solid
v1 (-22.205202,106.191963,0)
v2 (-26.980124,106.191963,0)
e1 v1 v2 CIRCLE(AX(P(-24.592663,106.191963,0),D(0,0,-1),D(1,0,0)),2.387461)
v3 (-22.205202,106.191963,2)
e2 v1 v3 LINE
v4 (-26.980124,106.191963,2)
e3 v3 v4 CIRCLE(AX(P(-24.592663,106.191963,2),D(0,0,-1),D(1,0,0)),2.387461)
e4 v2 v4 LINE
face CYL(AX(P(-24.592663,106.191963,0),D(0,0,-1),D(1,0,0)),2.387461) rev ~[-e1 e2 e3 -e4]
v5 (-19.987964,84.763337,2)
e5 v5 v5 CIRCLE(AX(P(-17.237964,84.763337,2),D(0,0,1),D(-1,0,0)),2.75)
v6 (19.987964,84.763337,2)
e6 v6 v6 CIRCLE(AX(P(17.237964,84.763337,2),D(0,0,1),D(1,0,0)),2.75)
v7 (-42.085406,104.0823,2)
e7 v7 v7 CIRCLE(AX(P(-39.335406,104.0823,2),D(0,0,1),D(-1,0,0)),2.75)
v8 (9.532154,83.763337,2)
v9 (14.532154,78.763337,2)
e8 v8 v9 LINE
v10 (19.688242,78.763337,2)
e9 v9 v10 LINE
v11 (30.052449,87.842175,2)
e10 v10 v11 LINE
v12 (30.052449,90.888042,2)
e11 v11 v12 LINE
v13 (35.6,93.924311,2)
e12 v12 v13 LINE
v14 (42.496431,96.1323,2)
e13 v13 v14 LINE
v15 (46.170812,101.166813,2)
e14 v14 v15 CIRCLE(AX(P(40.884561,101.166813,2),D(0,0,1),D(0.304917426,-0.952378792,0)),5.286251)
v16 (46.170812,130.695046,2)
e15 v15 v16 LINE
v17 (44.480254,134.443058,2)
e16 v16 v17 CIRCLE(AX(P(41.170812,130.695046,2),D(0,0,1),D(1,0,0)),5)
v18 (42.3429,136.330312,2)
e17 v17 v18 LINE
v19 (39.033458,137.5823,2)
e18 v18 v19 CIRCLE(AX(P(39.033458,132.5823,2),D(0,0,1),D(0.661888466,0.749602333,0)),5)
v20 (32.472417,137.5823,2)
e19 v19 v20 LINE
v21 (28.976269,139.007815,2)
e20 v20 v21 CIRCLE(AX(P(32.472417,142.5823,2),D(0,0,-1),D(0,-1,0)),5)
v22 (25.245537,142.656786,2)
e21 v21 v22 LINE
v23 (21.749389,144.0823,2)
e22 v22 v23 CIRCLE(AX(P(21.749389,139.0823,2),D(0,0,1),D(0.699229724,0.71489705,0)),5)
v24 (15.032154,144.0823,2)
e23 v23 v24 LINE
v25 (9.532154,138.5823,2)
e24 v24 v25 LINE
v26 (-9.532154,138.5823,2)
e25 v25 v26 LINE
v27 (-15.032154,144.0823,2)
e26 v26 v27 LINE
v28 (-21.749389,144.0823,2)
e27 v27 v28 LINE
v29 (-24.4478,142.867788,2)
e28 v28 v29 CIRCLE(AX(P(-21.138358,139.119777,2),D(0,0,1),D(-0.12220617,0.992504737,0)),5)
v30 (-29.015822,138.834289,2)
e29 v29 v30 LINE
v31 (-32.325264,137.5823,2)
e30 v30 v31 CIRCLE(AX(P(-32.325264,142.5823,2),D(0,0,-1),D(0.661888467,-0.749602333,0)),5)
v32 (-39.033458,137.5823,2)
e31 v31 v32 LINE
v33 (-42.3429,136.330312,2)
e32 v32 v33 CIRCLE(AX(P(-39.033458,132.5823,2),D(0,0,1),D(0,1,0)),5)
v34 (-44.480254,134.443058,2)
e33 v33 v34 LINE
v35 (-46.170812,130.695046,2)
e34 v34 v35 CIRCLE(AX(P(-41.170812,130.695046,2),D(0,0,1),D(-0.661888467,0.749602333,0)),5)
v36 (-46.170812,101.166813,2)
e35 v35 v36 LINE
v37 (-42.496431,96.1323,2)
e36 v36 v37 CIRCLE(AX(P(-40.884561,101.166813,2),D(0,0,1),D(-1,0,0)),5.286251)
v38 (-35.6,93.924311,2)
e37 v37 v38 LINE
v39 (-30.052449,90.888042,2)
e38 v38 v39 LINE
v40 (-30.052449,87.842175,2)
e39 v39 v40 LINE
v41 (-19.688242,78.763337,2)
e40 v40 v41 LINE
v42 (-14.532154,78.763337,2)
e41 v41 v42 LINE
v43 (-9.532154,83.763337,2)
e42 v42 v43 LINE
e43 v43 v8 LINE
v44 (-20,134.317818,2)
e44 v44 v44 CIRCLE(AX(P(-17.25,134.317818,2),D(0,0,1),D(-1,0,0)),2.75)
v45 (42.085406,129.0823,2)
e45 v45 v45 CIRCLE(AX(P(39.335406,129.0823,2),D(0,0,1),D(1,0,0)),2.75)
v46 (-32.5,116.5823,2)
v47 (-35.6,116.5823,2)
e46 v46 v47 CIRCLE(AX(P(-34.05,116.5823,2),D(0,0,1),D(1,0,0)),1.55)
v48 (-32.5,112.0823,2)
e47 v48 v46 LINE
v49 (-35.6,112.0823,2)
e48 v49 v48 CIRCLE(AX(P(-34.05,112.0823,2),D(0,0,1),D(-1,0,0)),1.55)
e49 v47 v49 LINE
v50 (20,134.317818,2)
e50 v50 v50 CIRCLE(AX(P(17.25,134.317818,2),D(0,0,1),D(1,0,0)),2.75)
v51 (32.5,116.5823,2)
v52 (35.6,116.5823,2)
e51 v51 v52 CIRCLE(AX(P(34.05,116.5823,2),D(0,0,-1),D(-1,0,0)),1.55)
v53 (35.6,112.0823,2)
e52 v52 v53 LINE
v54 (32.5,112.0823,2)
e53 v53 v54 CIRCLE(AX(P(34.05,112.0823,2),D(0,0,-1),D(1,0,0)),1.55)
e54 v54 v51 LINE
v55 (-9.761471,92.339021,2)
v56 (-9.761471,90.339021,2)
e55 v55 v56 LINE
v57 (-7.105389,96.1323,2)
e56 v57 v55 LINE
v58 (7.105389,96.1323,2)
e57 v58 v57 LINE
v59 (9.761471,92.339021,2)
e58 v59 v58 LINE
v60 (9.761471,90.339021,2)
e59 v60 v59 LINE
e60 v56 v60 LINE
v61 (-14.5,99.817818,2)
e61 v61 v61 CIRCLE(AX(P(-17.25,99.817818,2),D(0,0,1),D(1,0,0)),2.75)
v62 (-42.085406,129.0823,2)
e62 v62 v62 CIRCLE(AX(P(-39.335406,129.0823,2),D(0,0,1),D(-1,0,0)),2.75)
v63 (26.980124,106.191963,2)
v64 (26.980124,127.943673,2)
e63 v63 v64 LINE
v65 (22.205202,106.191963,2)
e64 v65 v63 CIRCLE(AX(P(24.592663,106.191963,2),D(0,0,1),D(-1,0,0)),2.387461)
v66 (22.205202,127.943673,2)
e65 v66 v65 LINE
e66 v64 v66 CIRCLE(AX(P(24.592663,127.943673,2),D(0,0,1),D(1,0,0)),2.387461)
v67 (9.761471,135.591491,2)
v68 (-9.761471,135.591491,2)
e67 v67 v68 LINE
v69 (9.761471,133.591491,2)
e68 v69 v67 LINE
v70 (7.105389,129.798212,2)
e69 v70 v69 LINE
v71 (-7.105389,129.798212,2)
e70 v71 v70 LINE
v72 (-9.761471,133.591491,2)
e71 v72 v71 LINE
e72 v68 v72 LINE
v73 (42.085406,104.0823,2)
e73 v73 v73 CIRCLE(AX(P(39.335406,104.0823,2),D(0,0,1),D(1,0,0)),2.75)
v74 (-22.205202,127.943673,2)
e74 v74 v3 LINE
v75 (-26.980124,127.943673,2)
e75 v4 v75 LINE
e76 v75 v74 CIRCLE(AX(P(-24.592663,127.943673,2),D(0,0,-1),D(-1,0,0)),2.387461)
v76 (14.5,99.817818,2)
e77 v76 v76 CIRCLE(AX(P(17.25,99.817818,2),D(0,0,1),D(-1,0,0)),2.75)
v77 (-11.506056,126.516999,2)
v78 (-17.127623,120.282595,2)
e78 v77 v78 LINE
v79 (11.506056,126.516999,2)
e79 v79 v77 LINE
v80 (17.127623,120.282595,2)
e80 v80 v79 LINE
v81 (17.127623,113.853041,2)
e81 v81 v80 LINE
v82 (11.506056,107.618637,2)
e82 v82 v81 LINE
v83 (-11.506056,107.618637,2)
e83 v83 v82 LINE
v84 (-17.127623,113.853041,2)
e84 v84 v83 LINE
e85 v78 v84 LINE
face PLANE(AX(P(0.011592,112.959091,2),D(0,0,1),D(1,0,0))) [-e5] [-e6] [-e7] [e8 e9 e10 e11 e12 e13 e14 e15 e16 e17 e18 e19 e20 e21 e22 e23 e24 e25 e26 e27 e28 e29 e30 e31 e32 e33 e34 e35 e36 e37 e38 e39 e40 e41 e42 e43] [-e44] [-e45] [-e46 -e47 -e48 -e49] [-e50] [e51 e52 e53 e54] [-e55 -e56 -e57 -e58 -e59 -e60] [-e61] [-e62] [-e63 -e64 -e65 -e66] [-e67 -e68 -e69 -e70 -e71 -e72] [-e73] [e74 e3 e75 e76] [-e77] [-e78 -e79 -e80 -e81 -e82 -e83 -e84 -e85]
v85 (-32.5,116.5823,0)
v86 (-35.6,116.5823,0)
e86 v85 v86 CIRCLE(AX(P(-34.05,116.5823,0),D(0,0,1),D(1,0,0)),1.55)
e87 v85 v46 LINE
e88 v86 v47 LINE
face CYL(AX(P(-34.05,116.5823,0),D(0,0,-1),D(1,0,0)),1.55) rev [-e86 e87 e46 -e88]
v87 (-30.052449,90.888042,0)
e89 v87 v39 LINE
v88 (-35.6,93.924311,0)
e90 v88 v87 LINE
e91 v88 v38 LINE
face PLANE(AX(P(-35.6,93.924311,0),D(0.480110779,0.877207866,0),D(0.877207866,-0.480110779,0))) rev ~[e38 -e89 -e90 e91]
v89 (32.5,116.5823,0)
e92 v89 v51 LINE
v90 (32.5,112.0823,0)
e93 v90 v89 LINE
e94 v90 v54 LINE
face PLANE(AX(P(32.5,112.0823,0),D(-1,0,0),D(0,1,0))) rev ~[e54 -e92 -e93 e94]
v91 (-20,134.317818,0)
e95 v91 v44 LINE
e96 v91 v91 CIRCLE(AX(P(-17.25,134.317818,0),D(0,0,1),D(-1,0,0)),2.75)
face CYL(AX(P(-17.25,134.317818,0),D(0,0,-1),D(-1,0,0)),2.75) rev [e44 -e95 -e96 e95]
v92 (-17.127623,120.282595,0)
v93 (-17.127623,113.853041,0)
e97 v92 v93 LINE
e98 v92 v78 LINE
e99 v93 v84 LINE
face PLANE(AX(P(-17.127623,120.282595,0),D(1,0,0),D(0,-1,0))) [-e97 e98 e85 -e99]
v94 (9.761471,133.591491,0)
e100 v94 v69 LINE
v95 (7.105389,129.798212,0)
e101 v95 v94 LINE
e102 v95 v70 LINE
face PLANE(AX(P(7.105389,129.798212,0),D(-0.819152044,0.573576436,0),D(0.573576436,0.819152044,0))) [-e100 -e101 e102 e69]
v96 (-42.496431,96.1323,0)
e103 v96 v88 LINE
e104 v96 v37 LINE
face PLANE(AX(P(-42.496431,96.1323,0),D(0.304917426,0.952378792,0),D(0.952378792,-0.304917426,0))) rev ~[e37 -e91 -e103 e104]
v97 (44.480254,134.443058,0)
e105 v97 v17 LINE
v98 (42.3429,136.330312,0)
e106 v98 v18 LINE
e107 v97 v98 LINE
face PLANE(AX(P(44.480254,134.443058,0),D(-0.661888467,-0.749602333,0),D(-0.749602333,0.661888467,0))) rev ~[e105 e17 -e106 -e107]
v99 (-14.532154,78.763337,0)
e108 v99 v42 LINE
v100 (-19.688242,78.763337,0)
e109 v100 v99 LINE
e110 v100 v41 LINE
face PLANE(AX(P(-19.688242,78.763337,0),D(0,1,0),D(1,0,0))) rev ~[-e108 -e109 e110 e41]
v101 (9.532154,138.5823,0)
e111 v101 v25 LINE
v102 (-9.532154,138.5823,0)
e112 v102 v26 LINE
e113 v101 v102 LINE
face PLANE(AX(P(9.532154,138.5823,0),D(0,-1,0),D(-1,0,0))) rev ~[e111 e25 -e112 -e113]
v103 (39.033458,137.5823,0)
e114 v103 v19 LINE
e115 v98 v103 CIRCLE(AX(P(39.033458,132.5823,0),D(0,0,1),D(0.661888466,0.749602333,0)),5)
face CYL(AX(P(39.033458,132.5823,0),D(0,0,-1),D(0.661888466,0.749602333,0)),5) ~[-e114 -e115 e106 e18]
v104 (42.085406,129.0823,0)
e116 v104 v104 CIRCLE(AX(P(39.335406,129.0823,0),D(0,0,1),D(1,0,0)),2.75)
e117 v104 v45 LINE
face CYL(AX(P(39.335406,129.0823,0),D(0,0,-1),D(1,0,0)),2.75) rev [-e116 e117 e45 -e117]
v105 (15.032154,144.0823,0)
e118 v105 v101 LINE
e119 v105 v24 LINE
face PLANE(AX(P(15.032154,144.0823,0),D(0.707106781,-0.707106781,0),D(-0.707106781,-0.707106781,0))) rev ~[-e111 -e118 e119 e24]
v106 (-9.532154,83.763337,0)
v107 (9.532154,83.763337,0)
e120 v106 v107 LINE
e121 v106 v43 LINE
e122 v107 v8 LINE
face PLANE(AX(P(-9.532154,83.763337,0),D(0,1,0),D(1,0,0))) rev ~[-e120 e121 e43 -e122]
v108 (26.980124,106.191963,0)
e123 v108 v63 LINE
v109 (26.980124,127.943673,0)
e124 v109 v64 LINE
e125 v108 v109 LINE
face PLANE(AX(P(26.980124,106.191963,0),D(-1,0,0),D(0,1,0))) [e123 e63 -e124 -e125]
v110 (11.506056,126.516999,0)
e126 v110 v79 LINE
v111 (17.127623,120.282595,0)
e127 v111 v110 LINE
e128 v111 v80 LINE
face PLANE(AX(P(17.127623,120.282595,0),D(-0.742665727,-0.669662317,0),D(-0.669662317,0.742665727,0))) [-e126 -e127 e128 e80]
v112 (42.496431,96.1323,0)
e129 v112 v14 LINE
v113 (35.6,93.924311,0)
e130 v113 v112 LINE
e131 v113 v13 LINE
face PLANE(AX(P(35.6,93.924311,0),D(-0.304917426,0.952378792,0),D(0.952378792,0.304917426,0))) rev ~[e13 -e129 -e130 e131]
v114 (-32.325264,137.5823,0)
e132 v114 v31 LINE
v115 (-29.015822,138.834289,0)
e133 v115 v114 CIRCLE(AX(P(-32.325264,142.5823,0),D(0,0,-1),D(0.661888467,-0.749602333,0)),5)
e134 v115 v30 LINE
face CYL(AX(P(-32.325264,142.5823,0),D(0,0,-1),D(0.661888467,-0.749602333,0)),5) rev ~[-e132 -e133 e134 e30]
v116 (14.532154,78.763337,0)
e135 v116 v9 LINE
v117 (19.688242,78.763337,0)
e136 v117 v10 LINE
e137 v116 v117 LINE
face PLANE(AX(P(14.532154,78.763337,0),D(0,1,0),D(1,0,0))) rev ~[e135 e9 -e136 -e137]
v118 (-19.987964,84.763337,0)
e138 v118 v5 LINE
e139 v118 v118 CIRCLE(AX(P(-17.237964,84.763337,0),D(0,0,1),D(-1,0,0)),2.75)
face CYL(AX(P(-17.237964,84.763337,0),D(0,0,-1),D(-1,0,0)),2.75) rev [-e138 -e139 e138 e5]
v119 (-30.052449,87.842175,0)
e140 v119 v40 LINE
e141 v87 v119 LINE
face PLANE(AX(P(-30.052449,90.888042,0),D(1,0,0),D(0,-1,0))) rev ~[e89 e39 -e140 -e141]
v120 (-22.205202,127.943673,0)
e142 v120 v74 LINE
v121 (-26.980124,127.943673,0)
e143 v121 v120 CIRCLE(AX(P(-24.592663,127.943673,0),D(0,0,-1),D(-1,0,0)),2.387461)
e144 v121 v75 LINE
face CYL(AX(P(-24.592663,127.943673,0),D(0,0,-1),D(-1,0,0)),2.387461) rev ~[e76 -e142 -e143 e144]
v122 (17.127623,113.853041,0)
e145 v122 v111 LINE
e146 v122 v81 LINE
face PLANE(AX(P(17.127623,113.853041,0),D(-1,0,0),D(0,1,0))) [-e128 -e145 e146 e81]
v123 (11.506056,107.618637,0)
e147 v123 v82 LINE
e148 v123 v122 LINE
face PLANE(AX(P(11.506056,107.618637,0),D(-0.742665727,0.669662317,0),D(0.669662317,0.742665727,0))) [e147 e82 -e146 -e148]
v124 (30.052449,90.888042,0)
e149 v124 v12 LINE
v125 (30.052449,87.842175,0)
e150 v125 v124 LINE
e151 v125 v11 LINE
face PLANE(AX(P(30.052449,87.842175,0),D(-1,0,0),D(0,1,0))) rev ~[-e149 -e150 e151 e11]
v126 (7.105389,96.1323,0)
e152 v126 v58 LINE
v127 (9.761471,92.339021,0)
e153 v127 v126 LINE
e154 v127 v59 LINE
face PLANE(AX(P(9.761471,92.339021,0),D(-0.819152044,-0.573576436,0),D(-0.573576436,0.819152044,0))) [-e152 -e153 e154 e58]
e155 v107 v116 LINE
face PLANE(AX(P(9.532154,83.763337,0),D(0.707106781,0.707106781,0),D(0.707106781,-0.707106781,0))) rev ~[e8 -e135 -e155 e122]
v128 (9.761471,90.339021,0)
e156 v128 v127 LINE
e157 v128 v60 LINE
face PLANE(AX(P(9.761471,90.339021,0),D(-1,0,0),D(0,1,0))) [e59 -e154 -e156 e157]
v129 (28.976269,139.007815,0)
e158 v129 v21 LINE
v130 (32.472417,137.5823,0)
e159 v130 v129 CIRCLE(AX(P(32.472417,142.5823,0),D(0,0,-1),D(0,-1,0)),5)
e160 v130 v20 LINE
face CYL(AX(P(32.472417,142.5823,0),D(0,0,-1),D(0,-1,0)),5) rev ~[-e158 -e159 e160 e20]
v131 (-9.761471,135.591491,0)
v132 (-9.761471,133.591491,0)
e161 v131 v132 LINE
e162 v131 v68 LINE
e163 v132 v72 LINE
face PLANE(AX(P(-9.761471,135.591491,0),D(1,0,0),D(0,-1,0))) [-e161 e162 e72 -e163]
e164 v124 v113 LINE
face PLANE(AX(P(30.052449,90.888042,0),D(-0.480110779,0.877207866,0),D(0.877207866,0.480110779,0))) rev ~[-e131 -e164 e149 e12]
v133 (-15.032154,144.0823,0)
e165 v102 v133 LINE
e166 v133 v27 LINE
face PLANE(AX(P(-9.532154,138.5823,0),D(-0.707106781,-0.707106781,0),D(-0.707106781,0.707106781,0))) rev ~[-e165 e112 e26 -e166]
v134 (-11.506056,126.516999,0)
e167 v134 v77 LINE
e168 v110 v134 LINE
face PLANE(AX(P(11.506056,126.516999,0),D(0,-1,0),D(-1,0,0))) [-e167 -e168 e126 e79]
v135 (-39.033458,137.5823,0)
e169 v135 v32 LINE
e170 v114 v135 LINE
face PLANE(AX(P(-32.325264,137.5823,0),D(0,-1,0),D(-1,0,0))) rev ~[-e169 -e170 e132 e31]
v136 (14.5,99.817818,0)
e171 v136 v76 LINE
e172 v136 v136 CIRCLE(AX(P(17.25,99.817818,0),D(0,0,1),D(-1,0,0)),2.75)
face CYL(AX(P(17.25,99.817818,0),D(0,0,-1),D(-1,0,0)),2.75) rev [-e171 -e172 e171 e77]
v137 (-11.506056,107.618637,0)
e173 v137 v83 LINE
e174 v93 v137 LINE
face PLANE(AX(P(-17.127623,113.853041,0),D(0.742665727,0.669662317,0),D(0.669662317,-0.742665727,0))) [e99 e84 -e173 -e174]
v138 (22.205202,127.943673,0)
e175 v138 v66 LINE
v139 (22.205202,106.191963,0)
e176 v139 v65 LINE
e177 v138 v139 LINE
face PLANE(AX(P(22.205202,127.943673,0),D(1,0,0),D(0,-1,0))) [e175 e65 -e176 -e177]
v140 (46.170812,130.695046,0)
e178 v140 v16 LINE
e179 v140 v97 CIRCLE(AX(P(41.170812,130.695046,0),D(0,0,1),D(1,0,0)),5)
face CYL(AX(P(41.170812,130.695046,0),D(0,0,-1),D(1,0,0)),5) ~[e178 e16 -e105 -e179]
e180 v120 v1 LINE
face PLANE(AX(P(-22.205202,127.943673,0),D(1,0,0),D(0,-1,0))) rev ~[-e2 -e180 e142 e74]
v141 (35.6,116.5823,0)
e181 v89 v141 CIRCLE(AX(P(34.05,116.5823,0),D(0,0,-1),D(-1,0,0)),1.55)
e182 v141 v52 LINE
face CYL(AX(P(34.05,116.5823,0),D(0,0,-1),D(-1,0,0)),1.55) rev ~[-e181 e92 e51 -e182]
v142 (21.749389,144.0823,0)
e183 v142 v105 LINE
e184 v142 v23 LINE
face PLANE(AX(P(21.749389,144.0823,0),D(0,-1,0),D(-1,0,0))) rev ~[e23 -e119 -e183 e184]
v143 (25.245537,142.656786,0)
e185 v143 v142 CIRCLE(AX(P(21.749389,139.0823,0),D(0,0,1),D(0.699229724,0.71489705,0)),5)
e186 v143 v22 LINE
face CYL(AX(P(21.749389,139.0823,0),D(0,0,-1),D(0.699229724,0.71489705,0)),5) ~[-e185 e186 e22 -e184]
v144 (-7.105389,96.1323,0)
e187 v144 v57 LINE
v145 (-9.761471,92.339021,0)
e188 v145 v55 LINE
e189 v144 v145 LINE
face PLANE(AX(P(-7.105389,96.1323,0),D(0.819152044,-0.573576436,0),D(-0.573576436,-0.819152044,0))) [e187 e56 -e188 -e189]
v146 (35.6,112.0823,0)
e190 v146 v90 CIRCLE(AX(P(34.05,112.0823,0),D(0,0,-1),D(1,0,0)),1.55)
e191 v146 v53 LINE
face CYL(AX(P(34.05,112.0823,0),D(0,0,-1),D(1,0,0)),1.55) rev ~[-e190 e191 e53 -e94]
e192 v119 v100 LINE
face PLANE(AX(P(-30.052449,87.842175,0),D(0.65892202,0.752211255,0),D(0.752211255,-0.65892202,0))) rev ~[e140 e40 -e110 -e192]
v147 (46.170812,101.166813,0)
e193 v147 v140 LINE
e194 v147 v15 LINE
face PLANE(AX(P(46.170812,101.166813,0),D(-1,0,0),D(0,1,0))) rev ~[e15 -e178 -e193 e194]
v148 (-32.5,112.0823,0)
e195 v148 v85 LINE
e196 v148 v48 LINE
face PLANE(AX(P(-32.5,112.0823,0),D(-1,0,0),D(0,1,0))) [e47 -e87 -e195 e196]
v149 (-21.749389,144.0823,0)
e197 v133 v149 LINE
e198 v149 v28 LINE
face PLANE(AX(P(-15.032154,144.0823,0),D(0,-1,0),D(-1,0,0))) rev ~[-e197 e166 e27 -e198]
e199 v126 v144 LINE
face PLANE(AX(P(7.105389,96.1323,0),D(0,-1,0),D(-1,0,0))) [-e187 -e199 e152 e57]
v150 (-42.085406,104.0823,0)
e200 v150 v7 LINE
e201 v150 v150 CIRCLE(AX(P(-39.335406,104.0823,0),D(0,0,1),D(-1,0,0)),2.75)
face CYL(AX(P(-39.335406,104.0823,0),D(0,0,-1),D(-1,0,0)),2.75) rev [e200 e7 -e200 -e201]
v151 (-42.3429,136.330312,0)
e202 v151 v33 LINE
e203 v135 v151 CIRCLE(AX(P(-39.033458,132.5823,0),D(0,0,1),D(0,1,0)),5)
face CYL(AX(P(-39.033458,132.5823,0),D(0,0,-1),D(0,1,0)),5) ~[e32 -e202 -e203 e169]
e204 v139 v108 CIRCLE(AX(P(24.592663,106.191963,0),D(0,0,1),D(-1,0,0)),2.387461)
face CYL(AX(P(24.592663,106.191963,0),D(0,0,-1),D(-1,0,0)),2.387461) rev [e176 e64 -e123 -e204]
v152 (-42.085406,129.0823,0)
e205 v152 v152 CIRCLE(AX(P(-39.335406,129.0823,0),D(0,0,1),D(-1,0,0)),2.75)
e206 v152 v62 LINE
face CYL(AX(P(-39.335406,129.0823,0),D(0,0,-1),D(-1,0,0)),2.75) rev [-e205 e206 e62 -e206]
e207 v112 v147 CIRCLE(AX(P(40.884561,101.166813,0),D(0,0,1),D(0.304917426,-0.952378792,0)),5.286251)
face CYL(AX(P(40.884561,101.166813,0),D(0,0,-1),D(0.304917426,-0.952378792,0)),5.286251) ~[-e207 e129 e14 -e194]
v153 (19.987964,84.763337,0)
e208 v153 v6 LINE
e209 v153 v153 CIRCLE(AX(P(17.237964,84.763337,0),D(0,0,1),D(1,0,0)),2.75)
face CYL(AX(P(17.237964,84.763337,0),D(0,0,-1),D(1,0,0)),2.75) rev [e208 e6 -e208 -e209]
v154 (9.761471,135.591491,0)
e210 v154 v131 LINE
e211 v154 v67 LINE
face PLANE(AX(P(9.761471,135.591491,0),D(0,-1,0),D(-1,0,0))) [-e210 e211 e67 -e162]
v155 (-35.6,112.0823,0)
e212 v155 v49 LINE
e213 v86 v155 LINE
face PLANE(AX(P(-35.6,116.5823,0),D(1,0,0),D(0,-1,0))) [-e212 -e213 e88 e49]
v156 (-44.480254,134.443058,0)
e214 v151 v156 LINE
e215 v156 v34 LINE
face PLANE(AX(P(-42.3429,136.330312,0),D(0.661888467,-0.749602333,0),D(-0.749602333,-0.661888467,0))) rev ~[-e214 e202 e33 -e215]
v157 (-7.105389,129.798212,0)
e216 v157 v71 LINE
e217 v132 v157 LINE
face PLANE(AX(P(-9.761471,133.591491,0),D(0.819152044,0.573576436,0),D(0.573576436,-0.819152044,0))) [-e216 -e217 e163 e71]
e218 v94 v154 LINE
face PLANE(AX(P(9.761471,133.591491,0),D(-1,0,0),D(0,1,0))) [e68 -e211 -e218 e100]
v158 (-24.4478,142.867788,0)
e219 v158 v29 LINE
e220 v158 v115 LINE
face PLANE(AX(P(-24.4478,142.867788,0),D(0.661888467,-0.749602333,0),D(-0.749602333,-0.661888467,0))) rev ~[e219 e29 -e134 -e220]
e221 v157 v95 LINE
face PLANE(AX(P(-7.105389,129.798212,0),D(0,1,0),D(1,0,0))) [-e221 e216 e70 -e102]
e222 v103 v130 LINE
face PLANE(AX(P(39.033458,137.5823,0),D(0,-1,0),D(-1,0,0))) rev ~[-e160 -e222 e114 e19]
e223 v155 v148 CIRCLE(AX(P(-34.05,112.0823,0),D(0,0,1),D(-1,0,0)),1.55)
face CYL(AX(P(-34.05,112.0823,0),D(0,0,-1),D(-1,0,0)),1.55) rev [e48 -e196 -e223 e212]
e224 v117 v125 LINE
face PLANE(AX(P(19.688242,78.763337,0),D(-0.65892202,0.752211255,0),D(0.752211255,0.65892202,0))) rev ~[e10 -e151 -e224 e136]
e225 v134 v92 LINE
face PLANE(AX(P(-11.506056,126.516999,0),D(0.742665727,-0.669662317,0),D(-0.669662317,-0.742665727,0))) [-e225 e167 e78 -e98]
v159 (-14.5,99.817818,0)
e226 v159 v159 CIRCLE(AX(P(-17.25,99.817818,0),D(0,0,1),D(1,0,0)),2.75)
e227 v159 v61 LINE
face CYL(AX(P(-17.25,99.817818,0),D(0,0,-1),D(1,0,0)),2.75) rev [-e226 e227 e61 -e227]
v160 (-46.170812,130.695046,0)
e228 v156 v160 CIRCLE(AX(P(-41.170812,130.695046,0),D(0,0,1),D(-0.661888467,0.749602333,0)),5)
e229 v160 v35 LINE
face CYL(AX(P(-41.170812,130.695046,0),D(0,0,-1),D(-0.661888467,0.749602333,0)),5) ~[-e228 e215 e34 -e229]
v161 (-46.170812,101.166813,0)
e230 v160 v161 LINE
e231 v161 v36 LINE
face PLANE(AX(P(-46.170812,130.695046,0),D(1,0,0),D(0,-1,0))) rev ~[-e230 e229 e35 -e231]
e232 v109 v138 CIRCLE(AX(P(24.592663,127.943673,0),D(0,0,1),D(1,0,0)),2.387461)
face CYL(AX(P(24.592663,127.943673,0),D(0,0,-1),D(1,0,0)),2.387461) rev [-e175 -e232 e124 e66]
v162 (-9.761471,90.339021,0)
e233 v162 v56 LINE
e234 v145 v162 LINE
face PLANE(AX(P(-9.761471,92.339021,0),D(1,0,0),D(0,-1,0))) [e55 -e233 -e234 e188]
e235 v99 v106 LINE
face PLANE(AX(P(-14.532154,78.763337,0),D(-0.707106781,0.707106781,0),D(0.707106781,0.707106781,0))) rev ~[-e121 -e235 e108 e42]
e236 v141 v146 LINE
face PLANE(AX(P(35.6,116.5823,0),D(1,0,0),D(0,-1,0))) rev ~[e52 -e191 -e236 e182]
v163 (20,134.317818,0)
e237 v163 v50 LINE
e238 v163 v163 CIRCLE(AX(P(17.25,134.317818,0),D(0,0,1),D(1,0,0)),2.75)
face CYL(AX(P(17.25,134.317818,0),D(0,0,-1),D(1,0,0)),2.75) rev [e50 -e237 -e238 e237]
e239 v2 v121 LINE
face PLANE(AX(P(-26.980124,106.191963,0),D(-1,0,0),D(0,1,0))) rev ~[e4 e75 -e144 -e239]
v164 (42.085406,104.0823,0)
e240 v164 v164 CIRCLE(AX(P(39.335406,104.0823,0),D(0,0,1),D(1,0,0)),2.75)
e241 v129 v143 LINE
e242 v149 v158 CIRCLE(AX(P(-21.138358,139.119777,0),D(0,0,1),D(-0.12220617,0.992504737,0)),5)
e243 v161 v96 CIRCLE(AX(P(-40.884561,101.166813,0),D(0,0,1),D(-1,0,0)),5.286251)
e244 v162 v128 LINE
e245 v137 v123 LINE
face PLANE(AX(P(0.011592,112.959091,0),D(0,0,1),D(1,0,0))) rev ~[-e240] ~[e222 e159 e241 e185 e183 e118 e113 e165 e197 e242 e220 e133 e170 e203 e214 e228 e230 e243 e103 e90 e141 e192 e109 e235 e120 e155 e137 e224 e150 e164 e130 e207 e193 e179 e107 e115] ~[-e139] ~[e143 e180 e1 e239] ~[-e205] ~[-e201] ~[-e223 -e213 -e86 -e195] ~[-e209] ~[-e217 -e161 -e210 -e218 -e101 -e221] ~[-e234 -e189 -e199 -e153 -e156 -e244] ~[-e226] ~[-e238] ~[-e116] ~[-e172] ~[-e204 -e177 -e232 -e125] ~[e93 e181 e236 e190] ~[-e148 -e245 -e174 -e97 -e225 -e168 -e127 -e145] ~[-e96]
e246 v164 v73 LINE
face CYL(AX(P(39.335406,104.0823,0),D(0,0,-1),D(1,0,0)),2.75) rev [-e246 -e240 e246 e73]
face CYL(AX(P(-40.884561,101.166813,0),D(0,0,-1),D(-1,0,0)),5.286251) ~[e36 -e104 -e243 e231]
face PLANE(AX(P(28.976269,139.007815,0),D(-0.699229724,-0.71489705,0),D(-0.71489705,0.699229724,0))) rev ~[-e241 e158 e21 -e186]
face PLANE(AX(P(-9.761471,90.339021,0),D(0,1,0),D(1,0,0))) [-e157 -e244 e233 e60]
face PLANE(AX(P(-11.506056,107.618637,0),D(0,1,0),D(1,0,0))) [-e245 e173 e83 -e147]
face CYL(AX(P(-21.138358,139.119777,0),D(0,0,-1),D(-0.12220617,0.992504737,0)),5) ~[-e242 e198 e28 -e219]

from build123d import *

# Parameters (mm, degrees)
SKETCH_1_R      = 2.75
EXTRUDE_1_DEPTH = 2


with BuildPart() as part:
    # 草图1 → 凸台-拉伸1 (new body)
    with BuildSketch(Plane.XY):
        with BuildLine():
            Line((-24.447800114, 142.867788384), (-29.015821613, 138.834288737))
            ThreePointArc((-29.015821613, 138.834288737), (-30.556091587, 137.905760103), (-32.325263946, 137.582300402))
            Line((-32.325263946, 137.582300402), (-39.033457742, 137.582300402))
            ThreePointArc((-39.033457742, 137.582300402), (-40.802630101, 137.2588407), (-42.342900075, 136.330312067))
            Line((-42.342900075, 136.330312067), (-44.480254451, 134.443057788))
            ThreePointArc((-44.480254451, 134.443057788), (-45.728619247, 132.750865708), (-46.170812117, 130.695046123))
            Line((-46.170812117, 130.695046123), (-46.170812117, 101.166813467))
            ThreePointArc((-46.170812117, 101.166813467), (-45.154526002, 98.050429516), (-42.496431366, 96.132300402))
            Line((-42.496431366, 96.132300402), (-35.6, 93.92431119))
            Line((-35.6, 93.92431119), (-30.05244945, 90.888042458))
            Line((-30.05244945, 90.888042458), (-30.05244945, 87.84217512))
            Line((-30.05244945, 87.84217512), (-19.688242157, 78.763336754))
            Line((-19.688242157, 78.763336754), (-14.532154357, 78.763336754))
            Line((-14.532154357, 78.763336754), (-9.532154357, 83.763336754))
            Line((-9.532154357, 83.763336754), (9.532154357, 83.763336754))
            Line((9.532154357, 83.763336754), (14.532154357, 78.763336754))
            Line((14.532154357, 78.763336754), (19.688242157, 78.763336754))
            Line((19.688242157, 78.763336754), (30.05244945, 87.84217512))
            Line((30.05244945, 87.84217512), (30.05244945, 90.888042458))
            Line((30.05244945, 90.888042458), (35.6, 93.92431119))
            Line((35.6, 93.92431119), (42.496431366, 96.132300402))
            ThreePointArc((42.496431366, 96.132300402), (45.154526002, 98.050429516), (46.170812117, 101.166813467))
            Line((46.170812117, 101.166813467), (46.170812117, 130.695046123))
            ThreePointArc((46.170812117, 130.695046123), (45.728619247, 132.750865708), (44.480254451, 134.443057788))
            Line((44.480254451, 134.443057788), (42.342900075, 136.330312067))
            ThreePointArc((42.342900075, 136.330312067), (40.802630101, 137.2588407), (39.033457742, 137.582300402))
            Line((39.033457742, 137.582300402), (32.472417217, 137.582300402))
            ThreePointArc((32.472417217, 137.582300402), (30.584617738, 137.952374579), (28.976268595, 139.007815151))
            Line((28.976268595, 139.007815151), (25.245537252, 142.656785653))
            ThreePointArc((25.245537252, 142.656785653), (23.637188108, 143.712226225), (21.74938863, 144.082300402))
            Line((21.74938863, 144.082300402), (15.032154357, 144.082300402))
            Line((15.032154357, 144.082300402), (9.532154357, 138.582300402))
            Line((9.532154357, 138.582300402), (-9.532154357, 138.582300402))
            Line((-9.532154357, 138.582300402), (-15.032154357, 144.082300402))
            Line((-15.032154357, 144.082300402), (-21.74938863, 144.082300402))
            ThreePointArc((-21.74938863, 144.082300402), (-23.190499918, 143.679240794), (-24.447800114, 142.867788384))
        make_face()
        with Locations((39.335406059, 129.082300402)):
            Circle(SKETCH_1_R, mode=Mode.SUBTRACT)
        with Locations((39.335406059, 104.082300402)):
            Circle(SKETCH_1_R, mode=Mode.SUBTRACT)
        with Locations((17.23796389, 84.763336754)):
            Circle(SKETCH_1_R, mode=Mode.SUBTRACT)
        with Locations(Location((-17.23796389, 84.763336754, 0), (0, 0, 180))):
            Circle(SKETCH_1_R, mode=Mode.SUBTRACT)
        with Locations(Location((-39.335406059, 104.082300402, 0), (0, 0, 180))):
            Circle(SKETCH_1_R, mode=Mode.SUBTRACT)
        with Locations(Location((-39.335406059, 129.082300402, 0), (0, 0, 180))):
            Circle(SKETCH_1_R, mode=Mode.SUBTRACT)
        with Locations((17.25, 134.317818161)):
            Circle(SKETCH_1_R, mode=Mode.SUBTRACT)
        with Locations(Location((17.25, 99.817818161, 0), (0, 0, 180))):
            Circle(SKETCH_1_R, mode=Mode.SUBTRACT)
        with Locations((-17.25, 99.817818161)):
            Circle(SKETCH_1_R, mode=Mode.SUBTRACT)
        with Locations(Location((-17.25, 134.317818161, 0), (0, 0, 180))):
            Circle(SKETCH_1_R, mode=Mode.SUBTRACT)
        Polygon((7.105388598, 96.132300402), (-7.105388598, 96.132300402), (-9.761471208, 92.339021317), (-9.761471208, 90.339021317), (9.761471208, 90.339021317), (9.761471208, 92.339021317), align=None, mode=Mode.SUBTRACT)
        with BuildLine():
            Line((-35.6, 116.582300402), (-35.6, 112.082300402))
            ThreePointArc((-35.6, 112.082300402), (-34.05, 110.532300402), (-32.5, 112.082300402))
            Line((-32.5, 112.082300402), (-32.5, 116.582300402))
            ThreePointArc((-32.5, 116.582300402), (-34.05, 118.132300402), (-35.6, 116.582300402))
        make_face(mode=Mode.SUBTRACT)
        with BuildLine():
            Line((35.6, 116.582300402), (35.6, 112.082300402))
            ThreePointArc((35.6, 112.082300402), (34.05, 110.532300402), (32.5, 112.082300402))
            Line((32.5, 112.082300402), (32.5, 116.582300402))
            ThreePointArc((32.5, 116.582300402), (34.05, 118.132300402), (35.6, 116.582300402))
        make_face(mode=Mode.SUBTRACT)
        Polygon((-17.12762315, 113.853040841), (-11.506056087, 107.618637195), (11.506056087, 107.618637195), (17.12762315, 113.853040841), (17.12762315, 120.282595482), (11.506056087, 126.516999128), (-11.506056087, 126.516999128), (-17.12762315, 120.282595482), align=None, mode=Mode.SUBTRACT)
        Polygon((-7.105388598, 129.79821171), (7.105388598, 129.79821171), (9.761471208, 133.591490795), (9.761471208, 135.591490795), (-9.761471208, 135.591490795), (-9.761471208, 133.591490795), align=None, mode=Mode.SUBTRACT)
        with BuildLine():
            Line((-22.20520244, 127.943672987), (-22.20520244, 106.191963336))
            ThreePointArc((-22.20520244, 106.191963336), (-24.592663446, 103.80450233), (-26.980124451, 106.191963336))
            Line((-26.980124451, 106.191963336), (-26.980124451, 127.943672987))
            ThreePointArc((-26.980124451, 127.943672987), (-24.592663446, 130.331133992), (-22.20520244, 127.943672987))
        make_face(mode=Mode.SUBTRACT)
        with BuildLine():
            Line((22.20520244, 127.943672987), (22.20520244, 106.191963336))
            ThreePointArc((22.20520244, 106.191963336), (24.592663446, 103.80450233), (26.980124451, 106.191963336))
            Line((26.980124451, 106.191963336), (26.980124451, 127.943672987))
            ThreePointArc((26.980124451, 127.943672987), (24.592663446, 130.331133992), (22.20520244, 127.943672987))
        make_face(mode=Mode.SUBTRACT)
    extrude(amount=EXTRUDE_1_DEPTH)


solid = part.part
